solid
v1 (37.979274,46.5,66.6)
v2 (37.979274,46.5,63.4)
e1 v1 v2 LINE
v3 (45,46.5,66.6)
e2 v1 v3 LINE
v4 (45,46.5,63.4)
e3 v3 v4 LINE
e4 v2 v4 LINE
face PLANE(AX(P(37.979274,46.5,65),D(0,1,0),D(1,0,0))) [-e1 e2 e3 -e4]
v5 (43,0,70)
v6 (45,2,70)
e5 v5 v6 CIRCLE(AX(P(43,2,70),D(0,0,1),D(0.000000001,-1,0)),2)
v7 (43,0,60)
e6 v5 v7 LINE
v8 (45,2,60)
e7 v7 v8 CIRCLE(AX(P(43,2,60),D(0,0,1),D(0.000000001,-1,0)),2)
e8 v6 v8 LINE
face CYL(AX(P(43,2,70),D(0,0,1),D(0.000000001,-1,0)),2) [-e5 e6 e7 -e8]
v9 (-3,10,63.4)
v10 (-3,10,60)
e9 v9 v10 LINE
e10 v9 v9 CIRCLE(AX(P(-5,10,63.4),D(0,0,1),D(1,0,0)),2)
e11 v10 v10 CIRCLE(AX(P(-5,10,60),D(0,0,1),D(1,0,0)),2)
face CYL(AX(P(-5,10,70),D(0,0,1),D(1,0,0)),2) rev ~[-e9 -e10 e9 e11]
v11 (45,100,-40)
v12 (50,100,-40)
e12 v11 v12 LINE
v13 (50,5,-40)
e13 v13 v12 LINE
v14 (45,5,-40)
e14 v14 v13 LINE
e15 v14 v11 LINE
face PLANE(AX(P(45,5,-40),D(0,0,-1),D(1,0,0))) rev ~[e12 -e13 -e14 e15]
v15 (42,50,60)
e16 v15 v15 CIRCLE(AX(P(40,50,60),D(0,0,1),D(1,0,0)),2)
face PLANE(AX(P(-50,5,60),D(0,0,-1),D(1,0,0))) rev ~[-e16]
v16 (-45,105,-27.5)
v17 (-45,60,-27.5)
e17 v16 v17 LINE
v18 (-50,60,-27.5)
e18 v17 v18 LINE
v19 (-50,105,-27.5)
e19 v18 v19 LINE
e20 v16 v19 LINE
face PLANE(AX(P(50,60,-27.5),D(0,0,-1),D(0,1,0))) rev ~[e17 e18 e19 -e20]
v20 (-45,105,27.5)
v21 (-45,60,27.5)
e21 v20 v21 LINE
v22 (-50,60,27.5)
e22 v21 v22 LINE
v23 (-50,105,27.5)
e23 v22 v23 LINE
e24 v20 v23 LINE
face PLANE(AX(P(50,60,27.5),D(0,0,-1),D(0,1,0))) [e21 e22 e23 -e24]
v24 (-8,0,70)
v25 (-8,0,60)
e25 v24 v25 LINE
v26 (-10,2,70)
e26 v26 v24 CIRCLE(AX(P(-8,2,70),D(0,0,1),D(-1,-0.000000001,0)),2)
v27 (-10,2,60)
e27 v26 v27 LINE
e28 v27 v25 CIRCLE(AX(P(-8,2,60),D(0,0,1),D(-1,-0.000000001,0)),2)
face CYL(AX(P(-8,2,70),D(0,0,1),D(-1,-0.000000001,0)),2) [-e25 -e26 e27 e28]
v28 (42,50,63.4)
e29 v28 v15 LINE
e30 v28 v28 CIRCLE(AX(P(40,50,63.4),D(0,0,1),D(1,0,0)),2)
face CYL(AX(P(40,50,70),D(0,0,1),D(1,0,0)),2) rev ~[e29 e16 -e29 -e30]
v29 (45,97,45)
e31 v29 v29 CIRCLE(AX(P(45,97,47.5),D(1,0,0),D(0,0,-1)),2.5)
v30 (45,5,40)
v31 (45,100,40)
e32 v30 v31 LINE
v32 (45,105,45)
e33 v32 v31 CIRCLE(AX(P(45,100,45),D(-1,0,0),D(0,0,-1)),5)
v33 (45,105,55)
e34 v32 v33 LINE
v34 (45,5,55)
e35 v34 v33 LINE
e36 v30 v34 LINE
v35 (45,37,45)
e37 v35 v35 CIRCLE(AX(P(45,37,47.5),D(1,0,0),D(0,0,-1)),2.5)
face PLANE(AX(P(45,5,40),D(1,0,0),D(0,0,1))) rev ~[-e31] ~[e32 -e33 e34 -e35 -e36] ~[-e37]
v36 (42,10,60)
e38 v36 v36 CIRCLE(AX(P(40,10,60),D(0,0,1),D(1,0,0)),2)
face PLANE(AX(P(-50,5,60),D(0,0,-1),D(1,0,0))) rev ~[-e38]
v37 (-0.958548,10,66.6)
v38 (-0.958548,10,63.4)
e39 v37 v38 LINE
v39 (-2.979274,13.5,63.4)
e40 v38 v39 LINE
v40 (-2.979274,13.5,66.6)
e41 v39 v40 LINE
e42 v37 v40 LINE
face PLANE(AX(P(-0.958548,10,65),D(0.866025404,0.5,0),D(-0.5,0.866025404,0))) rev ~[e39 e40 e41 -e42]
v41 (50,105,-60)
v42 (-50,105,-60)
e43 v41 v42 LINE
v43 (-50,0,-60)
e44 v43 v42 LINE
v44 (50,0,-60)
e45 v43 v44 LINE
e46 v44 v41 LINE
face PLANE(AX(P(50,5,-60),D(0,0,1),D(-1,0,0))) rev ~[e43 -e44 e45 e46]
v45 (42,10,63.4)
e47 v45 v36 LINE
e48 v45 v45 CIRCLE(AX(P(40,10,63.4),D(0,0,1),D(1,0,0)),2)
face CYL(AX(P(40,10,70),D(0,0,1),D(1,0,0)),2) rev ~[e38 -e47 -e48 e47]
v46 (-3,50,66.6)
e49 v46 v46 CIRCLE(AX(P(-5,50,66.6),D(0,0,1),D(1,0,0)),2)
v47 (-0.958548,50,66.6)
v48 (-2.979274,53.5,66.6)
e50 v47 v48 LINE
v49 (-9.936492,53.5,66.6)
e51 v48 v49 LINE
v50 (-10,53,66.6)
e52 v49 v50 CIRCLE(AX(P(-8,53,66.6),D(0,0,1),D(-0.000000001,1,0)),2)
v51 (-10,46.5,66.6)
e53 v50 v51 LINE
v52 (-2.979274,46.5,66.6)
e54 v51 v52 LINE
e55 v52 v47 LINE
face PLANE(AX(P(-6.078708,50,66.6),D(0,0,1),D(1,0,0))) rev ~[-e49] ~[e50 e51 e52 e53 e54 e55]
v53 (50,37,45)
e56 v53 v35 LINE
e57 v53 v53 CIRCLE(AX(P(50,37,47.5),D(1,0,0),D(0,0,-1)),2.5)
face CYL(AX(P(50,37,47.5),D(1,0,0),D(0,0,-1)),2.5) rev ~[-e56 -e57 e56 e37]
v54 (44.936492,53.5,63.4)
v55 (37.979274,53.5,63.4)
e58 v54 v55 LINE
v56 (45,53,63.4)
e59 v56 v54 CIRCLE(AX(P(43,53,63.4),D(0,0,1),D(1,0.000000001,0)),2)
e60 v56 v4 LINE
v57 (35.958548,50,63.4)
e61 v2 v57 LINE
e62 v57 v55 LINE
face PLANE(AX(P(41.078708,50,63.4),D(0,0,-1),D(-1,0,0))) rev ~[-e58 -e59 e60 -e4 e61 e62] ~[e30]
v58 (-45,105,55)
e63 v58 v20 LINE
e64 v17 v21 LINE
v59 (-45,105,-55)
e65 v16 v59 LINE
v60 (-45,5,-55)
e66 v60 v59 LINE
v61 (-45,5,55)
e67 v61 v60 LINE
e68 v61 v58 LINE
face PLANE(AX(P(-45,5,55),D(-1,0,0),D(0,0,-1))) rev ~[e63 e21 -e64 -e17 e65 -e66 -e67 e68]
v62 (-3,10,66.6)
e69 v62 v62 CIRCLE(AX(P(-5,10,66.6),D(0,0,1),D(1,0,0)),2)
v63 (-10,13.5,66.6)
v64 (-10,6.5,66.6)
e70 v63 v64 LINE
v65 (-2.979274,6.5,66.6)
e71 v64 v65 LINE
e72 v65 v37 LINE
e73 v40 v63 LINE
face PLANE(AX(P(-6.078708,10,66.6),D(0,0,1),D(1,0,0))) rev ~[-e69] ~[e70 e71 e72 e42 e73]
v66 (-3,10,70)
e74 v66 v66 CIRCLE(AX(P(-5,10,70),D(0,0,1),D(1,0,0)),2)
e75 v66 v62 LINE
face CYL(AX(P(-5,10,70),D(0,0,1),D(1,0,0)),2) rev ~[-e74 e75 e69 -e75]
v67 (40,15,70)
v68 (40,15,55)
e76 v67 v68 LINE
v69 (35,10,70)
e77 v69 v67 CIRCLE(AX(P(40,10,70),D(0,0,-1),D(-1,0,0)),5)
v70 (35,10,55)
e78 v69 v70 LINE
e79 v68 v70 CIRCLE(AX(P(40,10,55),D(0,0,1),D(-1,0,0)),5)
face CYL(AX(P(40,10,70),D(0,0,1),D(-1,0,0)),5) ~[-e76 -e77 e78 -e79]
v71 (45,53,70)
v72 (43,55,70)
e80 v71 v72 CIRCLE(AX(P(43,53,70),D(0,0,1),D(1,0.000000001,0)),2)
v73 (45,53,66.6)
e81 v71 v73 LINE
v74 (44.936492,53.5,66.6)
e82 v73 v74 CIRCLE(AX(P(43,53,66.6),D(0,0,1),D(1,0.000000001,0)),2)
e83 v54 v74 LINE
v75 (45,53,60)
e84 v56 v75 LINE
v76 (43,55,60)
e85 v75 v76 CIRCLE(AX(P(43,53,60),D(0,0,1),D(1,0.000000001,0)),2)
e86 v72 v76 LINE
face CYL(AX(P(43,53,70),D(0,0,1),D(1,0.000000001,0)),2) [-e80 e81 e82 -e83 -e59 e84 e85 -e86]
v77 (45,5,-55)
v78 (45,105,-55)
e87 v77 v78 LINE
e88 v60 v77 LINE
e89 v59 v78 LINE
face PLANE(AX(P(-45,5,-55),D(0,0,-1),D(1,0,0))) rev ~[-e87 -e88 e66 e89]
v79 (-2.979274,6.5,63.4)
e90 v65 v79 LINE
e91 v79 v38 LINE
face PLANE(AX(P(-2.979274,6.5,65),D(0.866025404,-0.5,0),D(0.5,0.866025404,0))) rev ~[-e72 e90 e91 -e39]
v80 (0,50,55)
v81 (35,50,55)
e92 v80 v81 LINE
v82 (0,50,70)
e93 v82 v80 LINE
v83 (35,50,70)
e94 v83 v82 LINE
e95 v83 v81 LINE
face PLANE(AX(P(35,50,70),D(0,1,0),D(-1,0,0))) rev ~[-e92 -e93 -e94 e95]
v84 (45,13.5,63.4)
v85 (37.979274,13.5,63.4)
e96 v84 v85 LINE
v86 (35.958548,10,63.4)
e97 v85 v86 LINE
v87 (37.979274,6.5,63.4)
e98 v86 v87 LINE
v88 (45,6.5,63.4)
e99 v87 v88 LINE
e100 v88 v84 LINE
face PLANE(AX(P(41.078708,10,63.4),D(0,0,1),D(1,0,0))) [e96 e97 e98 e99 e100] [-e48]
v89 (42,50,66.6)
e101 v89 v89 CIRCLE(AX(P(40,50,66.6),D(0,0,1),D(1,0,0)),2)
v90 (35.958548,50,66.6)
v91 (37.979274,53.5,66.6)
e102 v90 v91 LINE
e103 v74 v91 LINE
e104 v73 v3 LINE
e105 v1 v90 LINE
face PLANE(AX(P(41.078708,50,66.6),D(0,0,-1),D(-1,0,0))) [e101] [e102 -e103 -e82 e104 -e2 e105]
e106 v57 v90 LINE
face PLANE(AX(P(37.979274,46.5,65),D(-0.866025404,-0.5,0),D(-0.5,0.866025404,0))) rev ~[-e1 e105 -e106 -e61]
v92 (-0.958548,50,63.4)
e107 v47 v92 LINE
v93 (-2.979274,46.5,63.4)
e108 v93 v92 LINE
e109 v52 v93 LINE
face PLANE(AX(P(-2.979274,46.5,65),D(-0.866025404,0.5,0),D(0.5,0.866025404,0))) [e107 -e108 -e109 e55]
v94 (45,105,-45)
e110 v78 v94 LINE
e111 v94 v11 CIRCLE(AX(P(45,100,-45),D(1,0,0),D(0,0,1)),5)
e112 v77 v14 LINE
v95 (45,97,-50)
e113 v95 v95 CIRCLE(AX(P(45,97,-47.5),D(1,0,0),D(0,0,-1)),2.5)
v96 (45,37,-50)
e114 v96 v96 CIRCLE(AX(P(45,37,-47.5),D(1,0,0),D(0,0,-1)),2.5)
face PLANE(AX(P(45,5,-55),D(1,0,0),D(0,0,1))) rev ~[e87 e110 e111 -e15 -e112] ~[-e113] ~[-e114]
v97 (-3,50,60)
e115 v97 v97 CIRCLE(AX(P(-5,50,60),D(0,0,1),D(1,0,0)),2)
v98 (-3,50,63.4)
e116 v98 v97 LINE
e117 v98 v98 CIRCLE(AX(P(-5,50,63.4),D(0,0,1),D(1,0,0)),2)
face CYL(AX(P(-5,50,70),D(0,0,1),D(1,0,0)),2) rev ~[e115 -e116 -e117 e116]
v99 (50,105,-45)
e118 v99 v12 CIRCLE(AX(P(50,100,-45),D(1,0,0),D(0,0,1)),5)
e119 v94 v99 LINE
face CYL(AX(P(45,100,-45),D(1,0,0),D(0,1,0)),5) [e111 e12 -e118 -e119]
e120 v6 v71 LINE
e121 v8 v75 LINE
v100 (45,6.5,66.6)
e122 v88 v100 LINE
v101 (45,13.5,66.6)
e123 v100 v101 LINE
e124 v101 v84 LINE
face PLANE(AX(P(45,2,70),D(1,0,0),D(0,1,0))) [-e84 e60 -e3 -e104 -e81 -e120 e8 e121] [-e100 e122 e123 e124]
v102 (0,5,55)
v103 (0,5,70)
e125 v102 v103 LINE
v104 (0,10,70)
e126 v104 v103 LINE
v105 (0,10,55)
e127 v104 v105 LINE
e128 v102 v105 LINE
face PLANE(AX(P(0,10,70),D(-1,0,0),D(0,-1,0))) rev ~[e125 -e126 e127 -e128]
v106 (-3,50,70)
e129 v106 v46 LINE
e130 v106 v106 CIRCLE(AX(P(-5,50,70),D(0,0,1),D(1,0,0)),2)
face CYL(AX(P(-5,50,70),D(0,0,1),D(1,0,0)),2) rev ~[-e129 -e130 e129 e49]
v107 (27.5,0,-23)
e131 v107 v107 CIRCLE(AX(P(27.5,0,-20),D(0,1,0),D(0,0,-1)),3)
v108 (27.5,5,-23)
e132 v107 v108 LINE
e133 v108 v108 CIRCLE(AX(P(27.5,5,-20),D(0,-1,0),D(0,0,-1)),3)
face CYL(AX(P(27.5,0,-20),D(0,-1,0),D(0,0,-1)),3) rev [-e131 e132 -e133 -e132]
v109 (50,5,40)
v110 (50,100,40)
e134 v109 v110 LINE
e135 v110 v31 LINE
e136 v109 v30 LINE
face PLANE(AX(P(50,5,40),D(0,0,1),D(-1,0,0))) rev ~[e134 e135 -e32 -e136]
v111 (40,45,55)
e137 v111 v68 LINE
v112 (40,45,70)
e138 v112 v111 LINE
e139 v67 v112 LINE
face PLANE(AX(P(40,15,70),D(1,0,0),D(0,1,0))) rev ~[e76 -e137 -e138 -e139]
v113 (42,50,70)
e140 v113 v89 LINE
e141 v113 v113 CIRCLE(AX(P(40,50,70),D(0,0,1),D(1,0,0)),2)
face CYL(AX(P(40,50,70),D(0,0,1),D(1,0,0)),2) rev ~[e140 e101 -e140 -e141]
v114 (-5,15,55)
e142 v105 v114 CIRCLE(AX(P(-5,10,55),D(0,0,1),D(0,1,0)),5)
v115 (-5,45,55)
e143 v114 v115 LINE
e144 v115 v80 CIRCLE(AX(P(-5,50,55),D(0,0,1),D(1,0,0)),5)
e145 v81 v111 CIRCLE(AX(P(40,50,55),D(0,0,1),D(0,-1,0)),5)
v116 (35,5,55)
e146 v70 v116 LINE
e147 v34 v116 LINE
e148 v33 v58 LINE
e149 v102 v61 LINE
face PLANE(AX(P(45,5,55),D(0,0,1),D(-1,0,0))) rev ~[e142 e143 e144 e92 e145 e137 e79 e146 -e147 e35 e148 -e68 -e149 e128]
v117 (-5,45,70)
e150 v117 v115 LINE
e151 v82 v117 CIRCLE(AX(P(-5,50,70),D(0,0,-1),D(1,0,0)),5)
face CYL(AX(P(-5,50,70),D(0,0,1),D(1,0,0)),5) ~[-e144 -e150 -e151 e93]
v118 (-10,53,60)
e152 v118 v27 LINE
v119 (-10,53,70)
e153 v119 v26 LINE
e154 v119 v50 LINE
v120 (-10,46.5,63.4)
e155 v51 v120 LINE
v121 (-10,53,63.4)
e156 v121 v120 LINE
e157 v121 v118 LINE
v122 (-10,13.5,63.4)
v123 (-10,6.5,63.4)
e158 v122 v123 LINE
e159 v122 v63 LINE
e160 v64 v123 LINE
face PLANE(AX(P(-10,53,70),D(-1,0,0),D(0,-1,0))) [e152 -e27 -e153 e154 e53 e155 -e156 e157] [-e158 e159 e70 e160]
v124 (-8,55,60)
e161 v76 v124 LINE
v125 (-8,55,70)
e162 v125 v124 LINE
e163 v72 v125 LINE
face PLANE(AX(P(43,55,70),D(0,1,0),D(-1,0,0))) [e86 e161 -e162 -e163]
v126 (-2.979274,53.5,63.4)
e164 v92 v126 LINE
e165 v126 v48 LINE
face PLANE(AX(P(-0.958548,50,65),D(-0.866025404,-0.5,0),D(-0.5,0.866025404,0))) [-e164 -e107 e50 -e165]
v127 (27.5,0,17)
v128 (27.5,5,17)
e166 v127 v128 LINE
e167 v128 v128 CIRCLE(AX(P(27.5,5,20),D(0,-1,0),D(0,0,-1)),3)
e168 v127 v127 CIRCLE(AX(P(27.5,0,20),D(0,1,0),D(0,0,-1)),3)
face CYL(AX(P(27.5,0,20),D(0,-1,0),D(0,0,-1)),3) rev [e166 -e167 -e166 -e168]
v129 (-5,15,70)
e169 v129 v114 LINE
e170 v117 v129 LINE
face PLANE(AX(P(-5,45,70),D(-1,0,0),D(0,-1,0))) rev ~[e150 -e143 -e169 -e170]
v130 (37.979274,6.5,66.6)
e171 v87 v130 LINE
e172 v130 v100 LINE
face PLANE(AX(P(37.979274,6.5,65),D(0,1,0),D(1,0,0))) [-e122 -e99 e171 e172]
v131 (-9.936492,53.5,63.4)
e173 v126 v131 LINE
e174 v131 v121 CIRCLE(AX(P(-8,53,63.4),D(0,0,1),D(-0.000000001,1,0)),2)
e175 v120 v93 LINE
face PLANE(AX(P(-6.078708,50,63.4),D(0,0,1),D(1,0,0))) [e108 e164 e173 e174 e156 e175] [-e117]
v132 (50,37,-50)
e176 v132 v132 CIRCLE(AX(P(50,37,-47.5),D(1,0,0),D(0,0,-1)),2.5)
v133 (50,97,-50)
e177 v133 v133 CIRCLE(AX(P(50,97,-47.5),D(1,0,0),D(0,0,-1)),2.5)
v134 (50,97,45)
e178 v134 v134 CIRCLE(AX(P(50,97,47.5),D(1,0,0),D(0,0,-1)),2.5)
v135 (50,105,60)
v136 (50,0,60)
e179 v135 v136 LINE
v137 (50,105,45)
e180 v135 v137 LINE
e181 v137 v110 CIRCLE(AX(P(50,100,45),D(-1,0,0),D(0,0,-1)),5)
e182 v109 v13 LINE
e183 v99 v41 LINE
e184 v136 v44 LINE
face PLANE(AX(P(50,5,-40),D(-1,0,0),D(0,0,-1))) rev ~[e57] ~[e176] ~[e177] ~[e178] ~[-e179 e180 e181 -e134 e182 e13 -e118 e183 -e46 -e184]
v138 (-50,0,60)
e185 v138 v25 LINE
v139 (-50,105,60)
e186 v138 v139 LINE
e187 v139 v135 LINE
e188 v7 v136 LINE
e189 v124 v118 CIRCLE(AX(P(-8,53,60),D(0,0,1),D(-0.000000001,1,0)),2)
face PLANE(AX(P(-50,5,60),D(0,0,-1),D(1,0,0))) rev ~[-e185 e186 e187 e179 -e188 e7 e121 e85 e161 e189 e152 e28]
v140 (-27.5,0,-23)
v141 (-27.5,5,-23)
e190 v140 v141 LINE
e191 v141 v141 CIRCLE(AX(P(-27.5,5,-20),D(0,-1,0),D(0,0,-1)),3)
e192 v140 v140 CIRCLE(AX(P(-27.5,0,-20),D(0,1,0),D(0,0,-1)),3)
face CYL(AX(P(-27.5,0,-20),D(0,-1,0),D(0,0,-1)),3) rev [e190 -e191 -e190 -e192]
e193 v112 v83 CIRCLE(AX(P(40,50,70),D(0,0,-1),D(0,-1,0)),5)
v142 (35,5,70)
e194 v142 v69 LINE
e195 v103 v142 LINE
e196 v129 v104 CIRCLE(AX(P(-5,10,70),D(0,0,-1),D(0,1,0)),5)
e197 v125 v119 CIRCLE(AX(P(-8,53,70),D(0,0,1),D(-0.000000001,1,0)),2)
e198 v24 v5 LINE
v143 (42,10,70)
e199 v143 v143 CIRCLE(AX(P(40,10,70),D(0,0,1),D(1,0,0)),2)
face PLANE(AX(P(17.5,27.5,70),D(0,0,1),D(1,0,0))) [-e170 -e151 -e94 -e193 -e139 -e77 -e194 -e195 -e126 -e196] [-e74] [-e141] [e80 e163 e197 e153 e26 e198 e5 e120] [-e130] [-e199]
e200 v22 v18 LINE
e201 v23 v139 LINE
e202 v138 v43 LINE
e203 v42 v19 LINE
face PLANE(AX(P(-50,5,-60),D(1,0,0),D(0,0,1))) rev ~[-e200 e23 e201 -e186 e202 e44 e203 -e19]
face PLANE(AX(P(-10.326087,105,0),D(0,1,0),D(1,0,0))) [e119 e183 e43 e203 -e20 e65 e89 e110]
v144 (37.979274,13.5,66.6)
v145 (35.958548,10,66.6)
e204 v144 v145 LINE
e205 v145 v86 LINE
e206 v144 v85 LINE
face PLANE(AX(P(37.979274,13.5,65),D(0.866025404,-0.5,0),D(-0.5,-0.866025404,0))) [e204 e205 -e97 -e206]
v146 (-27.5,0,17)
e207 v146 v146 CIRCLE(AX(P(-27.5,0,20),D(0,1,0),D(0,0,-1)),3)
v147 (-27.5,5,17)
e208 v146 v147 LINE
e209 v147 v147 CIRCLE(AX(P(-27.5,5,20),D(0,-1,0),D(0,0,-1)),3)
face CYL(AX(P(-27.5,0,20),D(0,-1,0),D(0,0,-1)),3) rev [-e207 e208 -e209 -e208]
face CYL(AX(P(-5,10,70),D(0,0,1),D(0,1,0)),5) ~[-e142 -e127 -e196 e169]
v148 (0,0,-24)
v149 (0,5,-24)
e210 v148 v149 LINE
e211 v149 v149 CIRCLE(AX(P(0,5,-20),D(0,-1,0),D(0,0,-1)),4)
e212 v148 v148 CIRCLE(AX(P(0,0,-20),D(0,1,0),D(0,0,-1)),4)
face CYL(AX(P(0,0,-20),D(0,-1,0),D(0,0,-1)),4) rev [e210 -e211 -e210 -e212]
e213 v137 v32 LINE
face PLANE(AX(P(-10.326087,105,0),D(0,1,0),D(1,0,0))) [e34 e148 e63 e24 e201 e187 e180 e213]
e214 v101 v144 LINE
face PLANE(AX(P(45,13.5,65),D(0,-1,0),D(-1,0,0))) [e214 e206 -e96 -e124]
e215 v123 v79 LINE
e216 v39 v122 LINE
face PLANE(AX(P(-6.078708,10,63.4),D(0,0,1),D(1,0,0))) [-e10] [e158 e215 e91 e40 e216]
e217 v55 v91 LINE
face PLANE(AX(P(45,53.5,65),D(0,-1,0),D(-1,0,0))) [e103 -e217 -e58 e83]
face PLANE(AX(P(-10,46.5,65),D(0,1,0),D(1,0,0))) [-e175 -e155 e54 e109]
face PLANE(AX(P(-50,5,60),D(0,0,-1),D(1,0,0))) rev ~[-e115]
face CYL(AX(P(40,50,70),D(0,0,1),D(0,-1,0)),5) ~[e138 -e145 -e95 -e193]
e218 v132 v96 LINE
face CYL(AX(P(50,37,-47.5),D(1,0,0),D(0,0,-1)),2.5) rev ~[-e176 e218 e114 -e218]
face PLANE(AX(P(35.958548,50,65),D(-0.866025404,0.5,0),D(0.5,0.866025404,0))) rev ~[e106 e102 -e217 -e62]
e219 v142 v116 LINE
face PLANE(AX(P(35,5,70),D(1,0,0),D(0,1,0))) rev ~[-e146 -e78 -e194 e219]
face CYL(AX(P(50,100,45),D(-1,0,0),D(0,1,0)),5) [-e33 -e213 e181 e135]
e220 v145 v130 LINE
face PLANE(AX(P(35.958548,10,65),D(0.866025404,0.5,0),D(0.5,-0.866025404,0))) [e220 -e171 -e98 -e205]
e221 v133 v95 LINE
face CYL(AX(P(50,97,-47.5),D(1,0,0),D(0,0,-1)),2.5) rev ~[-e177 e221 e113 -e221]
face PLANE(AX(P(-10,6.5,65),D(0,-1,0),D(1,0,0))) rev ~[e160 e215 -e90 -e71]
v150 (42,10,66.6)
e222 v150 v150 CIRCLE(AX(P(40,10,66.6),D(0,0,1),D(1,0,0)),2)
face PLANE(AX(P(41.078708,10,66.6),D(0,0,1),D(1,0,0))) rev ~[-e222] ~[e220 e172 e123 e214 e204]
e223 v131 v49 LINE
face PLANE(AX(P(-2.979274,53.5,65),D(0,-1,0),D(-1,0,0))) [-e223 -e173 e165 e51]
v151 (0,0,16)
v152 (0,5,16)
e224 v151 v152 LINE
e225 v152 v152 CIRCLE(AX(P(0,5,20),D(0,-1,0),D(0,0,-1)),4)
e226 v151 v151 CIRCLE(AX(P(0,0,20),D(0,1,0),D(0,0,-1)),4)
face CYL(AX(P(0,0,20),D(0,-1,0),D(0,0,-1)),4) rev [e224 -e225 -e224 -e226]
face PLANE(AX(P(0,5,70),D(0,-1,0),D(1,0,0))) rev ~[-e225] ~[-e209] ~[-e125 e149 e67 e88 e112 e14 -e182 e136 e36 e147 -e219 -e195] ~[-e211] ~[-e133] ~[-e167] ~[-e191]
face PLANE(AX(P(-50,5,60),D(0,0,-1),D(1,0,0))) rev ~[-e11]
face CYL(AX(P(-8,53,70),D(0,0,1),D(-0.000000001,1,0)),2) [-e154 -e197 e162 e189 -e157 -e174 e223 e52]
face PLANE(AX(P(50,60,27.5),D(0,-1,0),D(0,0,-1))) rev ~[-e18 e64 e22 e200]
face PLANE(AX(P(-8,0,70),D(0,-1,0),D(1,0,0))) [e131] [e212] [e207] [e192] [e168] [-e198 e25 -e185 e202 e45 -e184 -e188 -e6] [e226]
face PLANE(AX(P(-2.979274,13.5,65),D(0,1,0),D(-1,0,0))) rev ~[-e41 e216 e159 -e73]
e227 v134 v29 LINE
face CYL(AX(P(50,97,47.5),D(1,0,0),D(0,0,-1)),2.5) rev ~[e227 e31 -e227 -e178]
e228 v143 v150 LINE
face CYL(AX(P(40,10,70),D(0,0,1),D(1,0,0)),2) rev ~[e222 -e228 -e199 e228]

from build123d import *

# Parameters (mm, degrees)
CROQUIS1_W              = 100
CROQUIS1_H              = 120
SALIENTE_EXTRUIR1_DEPTH = 5
CORTAR_EXTRUIR5_REACH   = 80.262
CROQUIS6_R              = 3
CROQUIS6_R_2            = 4
SALIENTE_EXTRUIR2_DEPTH = 100
CROQUIS8_W              = 55
CROQUIS8_H              = 45
CORTAR_EXTRUIR6_DEPTH   = 157.923548265
CORTAR_EXTRUIR8_REACH   = 169.108
SALIENTE_EXTRUIR4_START = 10
CROQUIS13_R             = 2
SALIENTE_EXTRUIR4_DEPTH = 10
CORTAR_EXTRUIR9_DEPTH   = 1.6
CORTAR_EXTRUIR10_REACH  = 163.012
CROQUIS16_R             = 2.5
REDONDEO1_R             = 5


with BuildPart() as part:
    # Croquis1 → Saliente-Extruir1 (new body)
    with BuildSketch(Plane(origin=(0, 0, 0), x_dir=(1, 0, 0), z_dir=(0, 1, 0))):
        Rectangle(CROQUIS1_W, CROQUIS1_H)
    extrude(amount=SALIENTE_EXTRUIR1_DEPTH)

    # Croquis6 → Cortar-Extruir5 (cut, up to next)
    with BuildSketch(Plane(origin=(0, 0, 0), x_dir=(1, 0, 0), z_dir=(0, 1, 0)), mode=Mode.PRIVATE) as cortar_extruir5_sk1:
        with Locations(Location((27.5, -20, 0), (0, 0, 90))):
            Circle(CROQUIS6_R)
    cortar_extruir5_tool1 = extrude(cortar_extruir5_sk1.sketch, amount=CORTAR_EXTRUIR5_REACH, mode=Mode.PRIVATE) & part.part
    # Croquis6 → Cortar-Extruir5 (cut, up to next)
    with BuildSketch(Plane(origin=(0, 0, 0), x_dir=(1, 0, 0), z_dir=(0, 1, 0)), mode=Mode.PRIVATE) as cortar_extruir5_sk2:
        with Locations(Location((0, -20, 0), (0, 0, 90))):
            Circle(CROQUIS6_R_2)
    cortar_extruir5_tool2 = extrude(cortar_extruir5_sk2.sketch, amount=CORTAR_EXTRUIR5_REACH, mode=Mode.PRIVATE) & part.part
    # Croquis6 → Cortar-Extruir5 (cut, up to next)
    with BuildSketch(Plane(origin=(0, 0, 0), x_dir=(1, 0, 0), z_dir=(0, 1, 0)), mode=Mode.PRIVATE) as cortar_extruir5_sk3:
        with Locations(Location((-27.5, -20, 0), (0, 0, 90))):
            Circle(CROQUIS6_R)
    cortar_extruir5_tool3 = extrude(cortar_extruir5_sk3.sketch, amount=CORTAR_EXTRUIR5_REACH, mode=Mode.PRIVATE) & part.part
    # Croquis6 → Cortar-Extruir5 (cut, up to next)
    with BuildSketch(Plane(origin=(0, 0, 0), x_dir=(1, 0, 0), z_dir=(0, 1, 0)), mode=Mode.PRIVATE) as cortar_extruir5_sk4:
        with Locations(Location((-27.5, 20, 0), (0, 0, 90))):
            Circle(CROQUIS6_R)
    cortar_extruir5_tool4 = extrude(cortar_extruir5_sk4.sketch, amount=CORTAR_EXTRUIR5_REACH, mode=Mode.PRIVATE) & part.part
    # Croquis6 → Cortar-Extruir5 (cut, up to next)
    with BuildSketch(Plane(origin=(0, 0, 0), x_dir=(1, 0, 0), z_dir=(0, 1, 0)), mode=Mode.PRIVATE) as cortar_extruir5_sk5:
        with Locations(Location((0, 20, 0), (0, 0, 90))):
            Circle(CROQUIS6_R_2)
    cortar_extruir5_tool5 = extrude(cortar_extruir5_sk5.sketch, amount=CORTAR_EXTRUIR5_REACH, mode=Mode.PRIVATE) & part.part
    # Croquis6 → Cortar-Extruir5 (cut, up to next)
    with BuildSketch(Plane(origin=(0, 0, 0), x_dir=(1, 0, 0), z_dir=(0, 1, 0)), mode=Mode.PRIVATE) as cortar_extruir5_sk6:
        with Locations(Location((27.5, 20, 0), (0, 0, 90))):
            Circle(CROQUIS6_R)
    cortar_extruir5_tool6 = extrude(cortar_extruir5_sk6.sketch, amount=CORTAR_EXTRUIR5_REACH, mode=Mode.PRIVATE) & part.part
    add(cortar_extruir5_tool1.solids().sort_by_distance((27.5, 0, 20))[0], mode=Mode.SUBTRACT)
    add(cortar_extruir5_tool2.solids().sort_by_distance((0, 0, 20))[0], mode=Mode.SUBTRACT)
    add(cortar_extruir5_tool3.solids().sort_by_distance((-27.5, 0, 20))[0], mode=Mode.SUBTRACT)
    add(cortar_extruir5_tool4.solids().sort_by_distance((-27.5, 0, -20))[0], mode=Mode.SUBTRACT)
    add(cortar_extruir5_tool5.solids().sort_by_distance((0, 0, -20))[0], mode=Mode.SUBTRACT)
    add(cortar_extruir5_tool6.solids().sort_by_distance((27.5, 0, -20))[0], mode=Mode.SUBTRACT)

    # Croquis7 → Saliente-Extruir2 (add)
    with BuildSketch(Plane(origin=(0, 5, 0), x_dir=(1, 0, 0), z_dir=(0, 1, 0))):
        Polygon((45, 40), (50, 40), (50, 60), (-50, 60), (-50, -60), (50, -60), (50, -40), (45, -40), (45, -55), (-45, -55), (-45, 55), (45, 55), align=None)
    extrude(amount=SALIENTE_EXTRUIR2_DEPTH)

    # Croquis8 → Cortar-Extruir6 (cut, through all)
    with BuildSketch(Plane(origin=(50, 0, 0), x_dir=(0, 0, -1), z_dir=(1, 0, 0))):
        with Locations((0, 82.5)):
            Rectangle(CROQUIS8_W, CROQUIS8_H)
    extrude(amount=-CORTAR_EXTRUIR6_DEPTH, mode=Mode.SUBTRACT)

    # Croquis12 → Cortar-Extruir8 (cut, up to next)
    with BuildSketch(Plane.XY.offset(60), mode=Mode.PRIVATE) as cortar_extruir8_sk1:
        with BuildLine():
            Line((0, 5), (35, 5))
            Line((35, 5), (35, 10))
            ThreePointArc((35, 10), (36.464466094, 13.535533906), (40, 15))
            Line((40, 15), (40, 45))
            ThreePointArc((40, 45), (36.464466094, 46.464466094), (35, 50))
            Line((35, 50), (0, 50))
            ThreePointArc((0, 50), (-1.464466094, 46.464466094), (-5, 45))
            Line((-5, 45), (-5, 15))
            ThreePointArc((-5, 15), (-1.464466094, 13.535533906), (0, 10))
            Line((0, 10), (0, 5))
        make_face()
    cortar_extruir8_tool1 = extrude(cortar_extruir8_sk1.sketch, amount=-CORTAR_EXTRUIR8_REACH, mode=Mode.PRIVATE) & part.part
    add(cortar_extruir8_tool1.solids().sort_by_distance((17.5, 27.923763, 60))[0], mode=Mode.SUBTRACT)

    # Croquis13 → Saliente-Extruir4 (add)
    with BuildSketch(Plane.XY.offset(60).offset(SALIENTE_EXTRUIR4_START)):
        with BuildLine():
            Line((-8, 0), (43, 0))
            ThreePointArc((43, 0), (44.414213562, 0.585786438), (45, 2))
            Line((45, 2), (45, 53))
            ThreePointArc((45, 53), (44.414213562, 54.414213562), (43, 55))
            Line((43, 55), (-8, 55))
            ThreePointArc((-8, 55), (-9.414213562, 54.414213562), (-10, 53))
            Line((-10, 53), (-10, 2))
            ThreePointArc((-10, 2), (-9.414213562, 0.585786438), (-8, 0))
        make_face()
        with Locations((-5, 50)):
            Circle(CROQUIS13_R, mode=Mode.SUBTRACT)
        with Locations((40, 50)):
            Circle(CROQUIS13_R, mode=Mode.SUBTRACT)
        with Locations((40, 10)):
            Circle(CROQUIS13_R, mode=Mode.SUBTRACT)
        with Locations((-5, 10)):
            Circle(CROQUIS13_R, mode=Mode.SUBTRACT)
        with BuildLine():
            Line((0, 5), (35, 5))
            Line((35, 5), (35, 10))
            ThreePointArc((35, 10), (36.464466094, 13.535533906), (40, 15))
            Line((40, 15), (40, 45))
            ThreePointArc((40, 45), (36.464466094, 46.464466094), (35, 50))
            Line((35, 50), (0, 50))
            ThreePointArc((0, 50), (-1.464466094, 46.464466094), (-5, 45))
            Line((-5, 45), (-5, 15))
            ThreePointArc((-5, 15), (-1.464466094, 13.535533906), (0, 10))
            Line((0, 10), (0, 5))
        make_face(mode=Mode.SUBTRACT)
    extrude(amount=-SALIENTE_EXTRUIR4_DEPTH)

    # Croquis15 → Cortar-Extruir9 (cut, symmetric)
    with BuildSketch(Plane.XY.offset(65)):
        Polygon((42.020725942, 53.5), (45, 53.5), (45, 46.5), (42.020725942, 46.5), (37.979274058, 46.5), (35.958548116, 50), (37.979274058, 53.5), align=None)
        Polygon((-0.958548116, 50), (-2.979274058, 53.5), (-7.020725942, 53.5), (-10, 53.5), (-10, 46.5), (-7.020725942, 46.5), (-2.979274058, 46.5), align=None)
        Polygon((35.958548116, 10), (37.979274058, 6.5), (42.020725942, 6.5), (45, 6.5), (45, 13.5), (42.020725942, 13.5), (37.979274058, 13.5), align=None)
        Polygon((-0.958548116, 10), (-2.979274058, 13.5), (-7.020725942, 13.5), (-10, 13.5), (-10, 6.5), (-7.020725942, 6.5), (-2.979274058, 6.5), align=None)
    extrude(amount=CORTAR_EXTRUIR9_DEPTH, both=True, mode=Mode.SUBTRACT)

    # Croquis16 → Cortar-Extruir10 (cut, up to next)
    with BuildSketch(Plane(origin=(50, 0, 0), x_dir=(0, 0, -1), z_dir=(1, 0, 0)), mode=Mode.PRIVATE) as cortar_extruir10_sk1:
        with Locations((-47.5, 97)):
            Circle(CROQUIS16_R)
    cortar_extruir10_tool1 = extrude(cortar_extruir10_sk1.sketch, amount=-CORTAR_EXTRUIR10_REACH, mode=Mode.PRIVATE) & part.part
    # Croquis16 → Cortar-Extruir10 (cut, up to next)
    with BuildSketch(Plane(origin=(50, 0, 0), x_dir=(0, 0, -1), z_dir=(1, 0, 0)), mode=Mode.PRIVATE) as cortar_extruir10_sk2:
        with Locations((-47.5, 37)):
            Circle(CROQUIS16_R)
    cortar_extruir10_tool2 = extrude(cortar_extruir10_sk2.sketch, amount=-CORTAR_EXTRUIR10_REACH, mode=Mode.PRIVATE) & part.part
    # Croquis16 → Cortar-Extruir10 (cut, up to next)
    with BuildSketch(Plane(origin=(50, 0, 0), x_dir=(0, 0, -1), z_dir=(1, 0, 0)), mode=Mode.PRIVATE) as cortar_extruir10_sk3:
        with Locations((47.5, 97)):
            Circle(CROQUIS16_R)
    cortar_extruir10_tool3 = extrude(cortar_extruir10_sk3.sketch, amount=-CORTAR_EXTRUIR10_REACH, mode=Mode.PRIVATE) & part.part
    # Croquis16 → Cortar-Extruir10 (cut, up to next)
    with BuildSketch(Plane(origin=(50, 0, 0), x_dir=(0, 0, -1), z_dir=(1, 0, 0)), mode=Mode.PRIVATE) as cortar_extruir10_sk4:
        with Locations((47.5, 37)):
            Circle(CROQUIS16_R)
    cortar_extruir10_tool4 = extrude(cortar_extruir10_sk4.sketch, amount=-CORTAR_EXTRUIR10_REACH, mode=Mode.PRIVATE) & part.part
    add(cortar_extruir10_tool1.solids().sort_by_distance((50, 97, 47.5))[0], mode=Mode.SUBTRACT)
    add(cortar_extruir10_tool2.solids().sort_by_distance((50, 37, 47.5))[0], mode=Mode.SUBTRACT)
    add(cortar_extruir10_tool3.solids().sort_by_distance((50, 97, -47.5))[0], mode=Mode.SUBTRACT)
    add(cortar_extruir10_tool4.solids().sort_by_distance((50, 37, -47.5))[0], mode=Mode.SUBTRACT)

    # Redondeo1
    redondeo1_edges = [part.edges().sort_by_distance(p)[0] for p in [
        (47.5, 105, 40),
        (47.5, 105, -40),
    ]]
    fillet(redondeo1_edges, radius=REDONDEO1_R)


solid = part.part
